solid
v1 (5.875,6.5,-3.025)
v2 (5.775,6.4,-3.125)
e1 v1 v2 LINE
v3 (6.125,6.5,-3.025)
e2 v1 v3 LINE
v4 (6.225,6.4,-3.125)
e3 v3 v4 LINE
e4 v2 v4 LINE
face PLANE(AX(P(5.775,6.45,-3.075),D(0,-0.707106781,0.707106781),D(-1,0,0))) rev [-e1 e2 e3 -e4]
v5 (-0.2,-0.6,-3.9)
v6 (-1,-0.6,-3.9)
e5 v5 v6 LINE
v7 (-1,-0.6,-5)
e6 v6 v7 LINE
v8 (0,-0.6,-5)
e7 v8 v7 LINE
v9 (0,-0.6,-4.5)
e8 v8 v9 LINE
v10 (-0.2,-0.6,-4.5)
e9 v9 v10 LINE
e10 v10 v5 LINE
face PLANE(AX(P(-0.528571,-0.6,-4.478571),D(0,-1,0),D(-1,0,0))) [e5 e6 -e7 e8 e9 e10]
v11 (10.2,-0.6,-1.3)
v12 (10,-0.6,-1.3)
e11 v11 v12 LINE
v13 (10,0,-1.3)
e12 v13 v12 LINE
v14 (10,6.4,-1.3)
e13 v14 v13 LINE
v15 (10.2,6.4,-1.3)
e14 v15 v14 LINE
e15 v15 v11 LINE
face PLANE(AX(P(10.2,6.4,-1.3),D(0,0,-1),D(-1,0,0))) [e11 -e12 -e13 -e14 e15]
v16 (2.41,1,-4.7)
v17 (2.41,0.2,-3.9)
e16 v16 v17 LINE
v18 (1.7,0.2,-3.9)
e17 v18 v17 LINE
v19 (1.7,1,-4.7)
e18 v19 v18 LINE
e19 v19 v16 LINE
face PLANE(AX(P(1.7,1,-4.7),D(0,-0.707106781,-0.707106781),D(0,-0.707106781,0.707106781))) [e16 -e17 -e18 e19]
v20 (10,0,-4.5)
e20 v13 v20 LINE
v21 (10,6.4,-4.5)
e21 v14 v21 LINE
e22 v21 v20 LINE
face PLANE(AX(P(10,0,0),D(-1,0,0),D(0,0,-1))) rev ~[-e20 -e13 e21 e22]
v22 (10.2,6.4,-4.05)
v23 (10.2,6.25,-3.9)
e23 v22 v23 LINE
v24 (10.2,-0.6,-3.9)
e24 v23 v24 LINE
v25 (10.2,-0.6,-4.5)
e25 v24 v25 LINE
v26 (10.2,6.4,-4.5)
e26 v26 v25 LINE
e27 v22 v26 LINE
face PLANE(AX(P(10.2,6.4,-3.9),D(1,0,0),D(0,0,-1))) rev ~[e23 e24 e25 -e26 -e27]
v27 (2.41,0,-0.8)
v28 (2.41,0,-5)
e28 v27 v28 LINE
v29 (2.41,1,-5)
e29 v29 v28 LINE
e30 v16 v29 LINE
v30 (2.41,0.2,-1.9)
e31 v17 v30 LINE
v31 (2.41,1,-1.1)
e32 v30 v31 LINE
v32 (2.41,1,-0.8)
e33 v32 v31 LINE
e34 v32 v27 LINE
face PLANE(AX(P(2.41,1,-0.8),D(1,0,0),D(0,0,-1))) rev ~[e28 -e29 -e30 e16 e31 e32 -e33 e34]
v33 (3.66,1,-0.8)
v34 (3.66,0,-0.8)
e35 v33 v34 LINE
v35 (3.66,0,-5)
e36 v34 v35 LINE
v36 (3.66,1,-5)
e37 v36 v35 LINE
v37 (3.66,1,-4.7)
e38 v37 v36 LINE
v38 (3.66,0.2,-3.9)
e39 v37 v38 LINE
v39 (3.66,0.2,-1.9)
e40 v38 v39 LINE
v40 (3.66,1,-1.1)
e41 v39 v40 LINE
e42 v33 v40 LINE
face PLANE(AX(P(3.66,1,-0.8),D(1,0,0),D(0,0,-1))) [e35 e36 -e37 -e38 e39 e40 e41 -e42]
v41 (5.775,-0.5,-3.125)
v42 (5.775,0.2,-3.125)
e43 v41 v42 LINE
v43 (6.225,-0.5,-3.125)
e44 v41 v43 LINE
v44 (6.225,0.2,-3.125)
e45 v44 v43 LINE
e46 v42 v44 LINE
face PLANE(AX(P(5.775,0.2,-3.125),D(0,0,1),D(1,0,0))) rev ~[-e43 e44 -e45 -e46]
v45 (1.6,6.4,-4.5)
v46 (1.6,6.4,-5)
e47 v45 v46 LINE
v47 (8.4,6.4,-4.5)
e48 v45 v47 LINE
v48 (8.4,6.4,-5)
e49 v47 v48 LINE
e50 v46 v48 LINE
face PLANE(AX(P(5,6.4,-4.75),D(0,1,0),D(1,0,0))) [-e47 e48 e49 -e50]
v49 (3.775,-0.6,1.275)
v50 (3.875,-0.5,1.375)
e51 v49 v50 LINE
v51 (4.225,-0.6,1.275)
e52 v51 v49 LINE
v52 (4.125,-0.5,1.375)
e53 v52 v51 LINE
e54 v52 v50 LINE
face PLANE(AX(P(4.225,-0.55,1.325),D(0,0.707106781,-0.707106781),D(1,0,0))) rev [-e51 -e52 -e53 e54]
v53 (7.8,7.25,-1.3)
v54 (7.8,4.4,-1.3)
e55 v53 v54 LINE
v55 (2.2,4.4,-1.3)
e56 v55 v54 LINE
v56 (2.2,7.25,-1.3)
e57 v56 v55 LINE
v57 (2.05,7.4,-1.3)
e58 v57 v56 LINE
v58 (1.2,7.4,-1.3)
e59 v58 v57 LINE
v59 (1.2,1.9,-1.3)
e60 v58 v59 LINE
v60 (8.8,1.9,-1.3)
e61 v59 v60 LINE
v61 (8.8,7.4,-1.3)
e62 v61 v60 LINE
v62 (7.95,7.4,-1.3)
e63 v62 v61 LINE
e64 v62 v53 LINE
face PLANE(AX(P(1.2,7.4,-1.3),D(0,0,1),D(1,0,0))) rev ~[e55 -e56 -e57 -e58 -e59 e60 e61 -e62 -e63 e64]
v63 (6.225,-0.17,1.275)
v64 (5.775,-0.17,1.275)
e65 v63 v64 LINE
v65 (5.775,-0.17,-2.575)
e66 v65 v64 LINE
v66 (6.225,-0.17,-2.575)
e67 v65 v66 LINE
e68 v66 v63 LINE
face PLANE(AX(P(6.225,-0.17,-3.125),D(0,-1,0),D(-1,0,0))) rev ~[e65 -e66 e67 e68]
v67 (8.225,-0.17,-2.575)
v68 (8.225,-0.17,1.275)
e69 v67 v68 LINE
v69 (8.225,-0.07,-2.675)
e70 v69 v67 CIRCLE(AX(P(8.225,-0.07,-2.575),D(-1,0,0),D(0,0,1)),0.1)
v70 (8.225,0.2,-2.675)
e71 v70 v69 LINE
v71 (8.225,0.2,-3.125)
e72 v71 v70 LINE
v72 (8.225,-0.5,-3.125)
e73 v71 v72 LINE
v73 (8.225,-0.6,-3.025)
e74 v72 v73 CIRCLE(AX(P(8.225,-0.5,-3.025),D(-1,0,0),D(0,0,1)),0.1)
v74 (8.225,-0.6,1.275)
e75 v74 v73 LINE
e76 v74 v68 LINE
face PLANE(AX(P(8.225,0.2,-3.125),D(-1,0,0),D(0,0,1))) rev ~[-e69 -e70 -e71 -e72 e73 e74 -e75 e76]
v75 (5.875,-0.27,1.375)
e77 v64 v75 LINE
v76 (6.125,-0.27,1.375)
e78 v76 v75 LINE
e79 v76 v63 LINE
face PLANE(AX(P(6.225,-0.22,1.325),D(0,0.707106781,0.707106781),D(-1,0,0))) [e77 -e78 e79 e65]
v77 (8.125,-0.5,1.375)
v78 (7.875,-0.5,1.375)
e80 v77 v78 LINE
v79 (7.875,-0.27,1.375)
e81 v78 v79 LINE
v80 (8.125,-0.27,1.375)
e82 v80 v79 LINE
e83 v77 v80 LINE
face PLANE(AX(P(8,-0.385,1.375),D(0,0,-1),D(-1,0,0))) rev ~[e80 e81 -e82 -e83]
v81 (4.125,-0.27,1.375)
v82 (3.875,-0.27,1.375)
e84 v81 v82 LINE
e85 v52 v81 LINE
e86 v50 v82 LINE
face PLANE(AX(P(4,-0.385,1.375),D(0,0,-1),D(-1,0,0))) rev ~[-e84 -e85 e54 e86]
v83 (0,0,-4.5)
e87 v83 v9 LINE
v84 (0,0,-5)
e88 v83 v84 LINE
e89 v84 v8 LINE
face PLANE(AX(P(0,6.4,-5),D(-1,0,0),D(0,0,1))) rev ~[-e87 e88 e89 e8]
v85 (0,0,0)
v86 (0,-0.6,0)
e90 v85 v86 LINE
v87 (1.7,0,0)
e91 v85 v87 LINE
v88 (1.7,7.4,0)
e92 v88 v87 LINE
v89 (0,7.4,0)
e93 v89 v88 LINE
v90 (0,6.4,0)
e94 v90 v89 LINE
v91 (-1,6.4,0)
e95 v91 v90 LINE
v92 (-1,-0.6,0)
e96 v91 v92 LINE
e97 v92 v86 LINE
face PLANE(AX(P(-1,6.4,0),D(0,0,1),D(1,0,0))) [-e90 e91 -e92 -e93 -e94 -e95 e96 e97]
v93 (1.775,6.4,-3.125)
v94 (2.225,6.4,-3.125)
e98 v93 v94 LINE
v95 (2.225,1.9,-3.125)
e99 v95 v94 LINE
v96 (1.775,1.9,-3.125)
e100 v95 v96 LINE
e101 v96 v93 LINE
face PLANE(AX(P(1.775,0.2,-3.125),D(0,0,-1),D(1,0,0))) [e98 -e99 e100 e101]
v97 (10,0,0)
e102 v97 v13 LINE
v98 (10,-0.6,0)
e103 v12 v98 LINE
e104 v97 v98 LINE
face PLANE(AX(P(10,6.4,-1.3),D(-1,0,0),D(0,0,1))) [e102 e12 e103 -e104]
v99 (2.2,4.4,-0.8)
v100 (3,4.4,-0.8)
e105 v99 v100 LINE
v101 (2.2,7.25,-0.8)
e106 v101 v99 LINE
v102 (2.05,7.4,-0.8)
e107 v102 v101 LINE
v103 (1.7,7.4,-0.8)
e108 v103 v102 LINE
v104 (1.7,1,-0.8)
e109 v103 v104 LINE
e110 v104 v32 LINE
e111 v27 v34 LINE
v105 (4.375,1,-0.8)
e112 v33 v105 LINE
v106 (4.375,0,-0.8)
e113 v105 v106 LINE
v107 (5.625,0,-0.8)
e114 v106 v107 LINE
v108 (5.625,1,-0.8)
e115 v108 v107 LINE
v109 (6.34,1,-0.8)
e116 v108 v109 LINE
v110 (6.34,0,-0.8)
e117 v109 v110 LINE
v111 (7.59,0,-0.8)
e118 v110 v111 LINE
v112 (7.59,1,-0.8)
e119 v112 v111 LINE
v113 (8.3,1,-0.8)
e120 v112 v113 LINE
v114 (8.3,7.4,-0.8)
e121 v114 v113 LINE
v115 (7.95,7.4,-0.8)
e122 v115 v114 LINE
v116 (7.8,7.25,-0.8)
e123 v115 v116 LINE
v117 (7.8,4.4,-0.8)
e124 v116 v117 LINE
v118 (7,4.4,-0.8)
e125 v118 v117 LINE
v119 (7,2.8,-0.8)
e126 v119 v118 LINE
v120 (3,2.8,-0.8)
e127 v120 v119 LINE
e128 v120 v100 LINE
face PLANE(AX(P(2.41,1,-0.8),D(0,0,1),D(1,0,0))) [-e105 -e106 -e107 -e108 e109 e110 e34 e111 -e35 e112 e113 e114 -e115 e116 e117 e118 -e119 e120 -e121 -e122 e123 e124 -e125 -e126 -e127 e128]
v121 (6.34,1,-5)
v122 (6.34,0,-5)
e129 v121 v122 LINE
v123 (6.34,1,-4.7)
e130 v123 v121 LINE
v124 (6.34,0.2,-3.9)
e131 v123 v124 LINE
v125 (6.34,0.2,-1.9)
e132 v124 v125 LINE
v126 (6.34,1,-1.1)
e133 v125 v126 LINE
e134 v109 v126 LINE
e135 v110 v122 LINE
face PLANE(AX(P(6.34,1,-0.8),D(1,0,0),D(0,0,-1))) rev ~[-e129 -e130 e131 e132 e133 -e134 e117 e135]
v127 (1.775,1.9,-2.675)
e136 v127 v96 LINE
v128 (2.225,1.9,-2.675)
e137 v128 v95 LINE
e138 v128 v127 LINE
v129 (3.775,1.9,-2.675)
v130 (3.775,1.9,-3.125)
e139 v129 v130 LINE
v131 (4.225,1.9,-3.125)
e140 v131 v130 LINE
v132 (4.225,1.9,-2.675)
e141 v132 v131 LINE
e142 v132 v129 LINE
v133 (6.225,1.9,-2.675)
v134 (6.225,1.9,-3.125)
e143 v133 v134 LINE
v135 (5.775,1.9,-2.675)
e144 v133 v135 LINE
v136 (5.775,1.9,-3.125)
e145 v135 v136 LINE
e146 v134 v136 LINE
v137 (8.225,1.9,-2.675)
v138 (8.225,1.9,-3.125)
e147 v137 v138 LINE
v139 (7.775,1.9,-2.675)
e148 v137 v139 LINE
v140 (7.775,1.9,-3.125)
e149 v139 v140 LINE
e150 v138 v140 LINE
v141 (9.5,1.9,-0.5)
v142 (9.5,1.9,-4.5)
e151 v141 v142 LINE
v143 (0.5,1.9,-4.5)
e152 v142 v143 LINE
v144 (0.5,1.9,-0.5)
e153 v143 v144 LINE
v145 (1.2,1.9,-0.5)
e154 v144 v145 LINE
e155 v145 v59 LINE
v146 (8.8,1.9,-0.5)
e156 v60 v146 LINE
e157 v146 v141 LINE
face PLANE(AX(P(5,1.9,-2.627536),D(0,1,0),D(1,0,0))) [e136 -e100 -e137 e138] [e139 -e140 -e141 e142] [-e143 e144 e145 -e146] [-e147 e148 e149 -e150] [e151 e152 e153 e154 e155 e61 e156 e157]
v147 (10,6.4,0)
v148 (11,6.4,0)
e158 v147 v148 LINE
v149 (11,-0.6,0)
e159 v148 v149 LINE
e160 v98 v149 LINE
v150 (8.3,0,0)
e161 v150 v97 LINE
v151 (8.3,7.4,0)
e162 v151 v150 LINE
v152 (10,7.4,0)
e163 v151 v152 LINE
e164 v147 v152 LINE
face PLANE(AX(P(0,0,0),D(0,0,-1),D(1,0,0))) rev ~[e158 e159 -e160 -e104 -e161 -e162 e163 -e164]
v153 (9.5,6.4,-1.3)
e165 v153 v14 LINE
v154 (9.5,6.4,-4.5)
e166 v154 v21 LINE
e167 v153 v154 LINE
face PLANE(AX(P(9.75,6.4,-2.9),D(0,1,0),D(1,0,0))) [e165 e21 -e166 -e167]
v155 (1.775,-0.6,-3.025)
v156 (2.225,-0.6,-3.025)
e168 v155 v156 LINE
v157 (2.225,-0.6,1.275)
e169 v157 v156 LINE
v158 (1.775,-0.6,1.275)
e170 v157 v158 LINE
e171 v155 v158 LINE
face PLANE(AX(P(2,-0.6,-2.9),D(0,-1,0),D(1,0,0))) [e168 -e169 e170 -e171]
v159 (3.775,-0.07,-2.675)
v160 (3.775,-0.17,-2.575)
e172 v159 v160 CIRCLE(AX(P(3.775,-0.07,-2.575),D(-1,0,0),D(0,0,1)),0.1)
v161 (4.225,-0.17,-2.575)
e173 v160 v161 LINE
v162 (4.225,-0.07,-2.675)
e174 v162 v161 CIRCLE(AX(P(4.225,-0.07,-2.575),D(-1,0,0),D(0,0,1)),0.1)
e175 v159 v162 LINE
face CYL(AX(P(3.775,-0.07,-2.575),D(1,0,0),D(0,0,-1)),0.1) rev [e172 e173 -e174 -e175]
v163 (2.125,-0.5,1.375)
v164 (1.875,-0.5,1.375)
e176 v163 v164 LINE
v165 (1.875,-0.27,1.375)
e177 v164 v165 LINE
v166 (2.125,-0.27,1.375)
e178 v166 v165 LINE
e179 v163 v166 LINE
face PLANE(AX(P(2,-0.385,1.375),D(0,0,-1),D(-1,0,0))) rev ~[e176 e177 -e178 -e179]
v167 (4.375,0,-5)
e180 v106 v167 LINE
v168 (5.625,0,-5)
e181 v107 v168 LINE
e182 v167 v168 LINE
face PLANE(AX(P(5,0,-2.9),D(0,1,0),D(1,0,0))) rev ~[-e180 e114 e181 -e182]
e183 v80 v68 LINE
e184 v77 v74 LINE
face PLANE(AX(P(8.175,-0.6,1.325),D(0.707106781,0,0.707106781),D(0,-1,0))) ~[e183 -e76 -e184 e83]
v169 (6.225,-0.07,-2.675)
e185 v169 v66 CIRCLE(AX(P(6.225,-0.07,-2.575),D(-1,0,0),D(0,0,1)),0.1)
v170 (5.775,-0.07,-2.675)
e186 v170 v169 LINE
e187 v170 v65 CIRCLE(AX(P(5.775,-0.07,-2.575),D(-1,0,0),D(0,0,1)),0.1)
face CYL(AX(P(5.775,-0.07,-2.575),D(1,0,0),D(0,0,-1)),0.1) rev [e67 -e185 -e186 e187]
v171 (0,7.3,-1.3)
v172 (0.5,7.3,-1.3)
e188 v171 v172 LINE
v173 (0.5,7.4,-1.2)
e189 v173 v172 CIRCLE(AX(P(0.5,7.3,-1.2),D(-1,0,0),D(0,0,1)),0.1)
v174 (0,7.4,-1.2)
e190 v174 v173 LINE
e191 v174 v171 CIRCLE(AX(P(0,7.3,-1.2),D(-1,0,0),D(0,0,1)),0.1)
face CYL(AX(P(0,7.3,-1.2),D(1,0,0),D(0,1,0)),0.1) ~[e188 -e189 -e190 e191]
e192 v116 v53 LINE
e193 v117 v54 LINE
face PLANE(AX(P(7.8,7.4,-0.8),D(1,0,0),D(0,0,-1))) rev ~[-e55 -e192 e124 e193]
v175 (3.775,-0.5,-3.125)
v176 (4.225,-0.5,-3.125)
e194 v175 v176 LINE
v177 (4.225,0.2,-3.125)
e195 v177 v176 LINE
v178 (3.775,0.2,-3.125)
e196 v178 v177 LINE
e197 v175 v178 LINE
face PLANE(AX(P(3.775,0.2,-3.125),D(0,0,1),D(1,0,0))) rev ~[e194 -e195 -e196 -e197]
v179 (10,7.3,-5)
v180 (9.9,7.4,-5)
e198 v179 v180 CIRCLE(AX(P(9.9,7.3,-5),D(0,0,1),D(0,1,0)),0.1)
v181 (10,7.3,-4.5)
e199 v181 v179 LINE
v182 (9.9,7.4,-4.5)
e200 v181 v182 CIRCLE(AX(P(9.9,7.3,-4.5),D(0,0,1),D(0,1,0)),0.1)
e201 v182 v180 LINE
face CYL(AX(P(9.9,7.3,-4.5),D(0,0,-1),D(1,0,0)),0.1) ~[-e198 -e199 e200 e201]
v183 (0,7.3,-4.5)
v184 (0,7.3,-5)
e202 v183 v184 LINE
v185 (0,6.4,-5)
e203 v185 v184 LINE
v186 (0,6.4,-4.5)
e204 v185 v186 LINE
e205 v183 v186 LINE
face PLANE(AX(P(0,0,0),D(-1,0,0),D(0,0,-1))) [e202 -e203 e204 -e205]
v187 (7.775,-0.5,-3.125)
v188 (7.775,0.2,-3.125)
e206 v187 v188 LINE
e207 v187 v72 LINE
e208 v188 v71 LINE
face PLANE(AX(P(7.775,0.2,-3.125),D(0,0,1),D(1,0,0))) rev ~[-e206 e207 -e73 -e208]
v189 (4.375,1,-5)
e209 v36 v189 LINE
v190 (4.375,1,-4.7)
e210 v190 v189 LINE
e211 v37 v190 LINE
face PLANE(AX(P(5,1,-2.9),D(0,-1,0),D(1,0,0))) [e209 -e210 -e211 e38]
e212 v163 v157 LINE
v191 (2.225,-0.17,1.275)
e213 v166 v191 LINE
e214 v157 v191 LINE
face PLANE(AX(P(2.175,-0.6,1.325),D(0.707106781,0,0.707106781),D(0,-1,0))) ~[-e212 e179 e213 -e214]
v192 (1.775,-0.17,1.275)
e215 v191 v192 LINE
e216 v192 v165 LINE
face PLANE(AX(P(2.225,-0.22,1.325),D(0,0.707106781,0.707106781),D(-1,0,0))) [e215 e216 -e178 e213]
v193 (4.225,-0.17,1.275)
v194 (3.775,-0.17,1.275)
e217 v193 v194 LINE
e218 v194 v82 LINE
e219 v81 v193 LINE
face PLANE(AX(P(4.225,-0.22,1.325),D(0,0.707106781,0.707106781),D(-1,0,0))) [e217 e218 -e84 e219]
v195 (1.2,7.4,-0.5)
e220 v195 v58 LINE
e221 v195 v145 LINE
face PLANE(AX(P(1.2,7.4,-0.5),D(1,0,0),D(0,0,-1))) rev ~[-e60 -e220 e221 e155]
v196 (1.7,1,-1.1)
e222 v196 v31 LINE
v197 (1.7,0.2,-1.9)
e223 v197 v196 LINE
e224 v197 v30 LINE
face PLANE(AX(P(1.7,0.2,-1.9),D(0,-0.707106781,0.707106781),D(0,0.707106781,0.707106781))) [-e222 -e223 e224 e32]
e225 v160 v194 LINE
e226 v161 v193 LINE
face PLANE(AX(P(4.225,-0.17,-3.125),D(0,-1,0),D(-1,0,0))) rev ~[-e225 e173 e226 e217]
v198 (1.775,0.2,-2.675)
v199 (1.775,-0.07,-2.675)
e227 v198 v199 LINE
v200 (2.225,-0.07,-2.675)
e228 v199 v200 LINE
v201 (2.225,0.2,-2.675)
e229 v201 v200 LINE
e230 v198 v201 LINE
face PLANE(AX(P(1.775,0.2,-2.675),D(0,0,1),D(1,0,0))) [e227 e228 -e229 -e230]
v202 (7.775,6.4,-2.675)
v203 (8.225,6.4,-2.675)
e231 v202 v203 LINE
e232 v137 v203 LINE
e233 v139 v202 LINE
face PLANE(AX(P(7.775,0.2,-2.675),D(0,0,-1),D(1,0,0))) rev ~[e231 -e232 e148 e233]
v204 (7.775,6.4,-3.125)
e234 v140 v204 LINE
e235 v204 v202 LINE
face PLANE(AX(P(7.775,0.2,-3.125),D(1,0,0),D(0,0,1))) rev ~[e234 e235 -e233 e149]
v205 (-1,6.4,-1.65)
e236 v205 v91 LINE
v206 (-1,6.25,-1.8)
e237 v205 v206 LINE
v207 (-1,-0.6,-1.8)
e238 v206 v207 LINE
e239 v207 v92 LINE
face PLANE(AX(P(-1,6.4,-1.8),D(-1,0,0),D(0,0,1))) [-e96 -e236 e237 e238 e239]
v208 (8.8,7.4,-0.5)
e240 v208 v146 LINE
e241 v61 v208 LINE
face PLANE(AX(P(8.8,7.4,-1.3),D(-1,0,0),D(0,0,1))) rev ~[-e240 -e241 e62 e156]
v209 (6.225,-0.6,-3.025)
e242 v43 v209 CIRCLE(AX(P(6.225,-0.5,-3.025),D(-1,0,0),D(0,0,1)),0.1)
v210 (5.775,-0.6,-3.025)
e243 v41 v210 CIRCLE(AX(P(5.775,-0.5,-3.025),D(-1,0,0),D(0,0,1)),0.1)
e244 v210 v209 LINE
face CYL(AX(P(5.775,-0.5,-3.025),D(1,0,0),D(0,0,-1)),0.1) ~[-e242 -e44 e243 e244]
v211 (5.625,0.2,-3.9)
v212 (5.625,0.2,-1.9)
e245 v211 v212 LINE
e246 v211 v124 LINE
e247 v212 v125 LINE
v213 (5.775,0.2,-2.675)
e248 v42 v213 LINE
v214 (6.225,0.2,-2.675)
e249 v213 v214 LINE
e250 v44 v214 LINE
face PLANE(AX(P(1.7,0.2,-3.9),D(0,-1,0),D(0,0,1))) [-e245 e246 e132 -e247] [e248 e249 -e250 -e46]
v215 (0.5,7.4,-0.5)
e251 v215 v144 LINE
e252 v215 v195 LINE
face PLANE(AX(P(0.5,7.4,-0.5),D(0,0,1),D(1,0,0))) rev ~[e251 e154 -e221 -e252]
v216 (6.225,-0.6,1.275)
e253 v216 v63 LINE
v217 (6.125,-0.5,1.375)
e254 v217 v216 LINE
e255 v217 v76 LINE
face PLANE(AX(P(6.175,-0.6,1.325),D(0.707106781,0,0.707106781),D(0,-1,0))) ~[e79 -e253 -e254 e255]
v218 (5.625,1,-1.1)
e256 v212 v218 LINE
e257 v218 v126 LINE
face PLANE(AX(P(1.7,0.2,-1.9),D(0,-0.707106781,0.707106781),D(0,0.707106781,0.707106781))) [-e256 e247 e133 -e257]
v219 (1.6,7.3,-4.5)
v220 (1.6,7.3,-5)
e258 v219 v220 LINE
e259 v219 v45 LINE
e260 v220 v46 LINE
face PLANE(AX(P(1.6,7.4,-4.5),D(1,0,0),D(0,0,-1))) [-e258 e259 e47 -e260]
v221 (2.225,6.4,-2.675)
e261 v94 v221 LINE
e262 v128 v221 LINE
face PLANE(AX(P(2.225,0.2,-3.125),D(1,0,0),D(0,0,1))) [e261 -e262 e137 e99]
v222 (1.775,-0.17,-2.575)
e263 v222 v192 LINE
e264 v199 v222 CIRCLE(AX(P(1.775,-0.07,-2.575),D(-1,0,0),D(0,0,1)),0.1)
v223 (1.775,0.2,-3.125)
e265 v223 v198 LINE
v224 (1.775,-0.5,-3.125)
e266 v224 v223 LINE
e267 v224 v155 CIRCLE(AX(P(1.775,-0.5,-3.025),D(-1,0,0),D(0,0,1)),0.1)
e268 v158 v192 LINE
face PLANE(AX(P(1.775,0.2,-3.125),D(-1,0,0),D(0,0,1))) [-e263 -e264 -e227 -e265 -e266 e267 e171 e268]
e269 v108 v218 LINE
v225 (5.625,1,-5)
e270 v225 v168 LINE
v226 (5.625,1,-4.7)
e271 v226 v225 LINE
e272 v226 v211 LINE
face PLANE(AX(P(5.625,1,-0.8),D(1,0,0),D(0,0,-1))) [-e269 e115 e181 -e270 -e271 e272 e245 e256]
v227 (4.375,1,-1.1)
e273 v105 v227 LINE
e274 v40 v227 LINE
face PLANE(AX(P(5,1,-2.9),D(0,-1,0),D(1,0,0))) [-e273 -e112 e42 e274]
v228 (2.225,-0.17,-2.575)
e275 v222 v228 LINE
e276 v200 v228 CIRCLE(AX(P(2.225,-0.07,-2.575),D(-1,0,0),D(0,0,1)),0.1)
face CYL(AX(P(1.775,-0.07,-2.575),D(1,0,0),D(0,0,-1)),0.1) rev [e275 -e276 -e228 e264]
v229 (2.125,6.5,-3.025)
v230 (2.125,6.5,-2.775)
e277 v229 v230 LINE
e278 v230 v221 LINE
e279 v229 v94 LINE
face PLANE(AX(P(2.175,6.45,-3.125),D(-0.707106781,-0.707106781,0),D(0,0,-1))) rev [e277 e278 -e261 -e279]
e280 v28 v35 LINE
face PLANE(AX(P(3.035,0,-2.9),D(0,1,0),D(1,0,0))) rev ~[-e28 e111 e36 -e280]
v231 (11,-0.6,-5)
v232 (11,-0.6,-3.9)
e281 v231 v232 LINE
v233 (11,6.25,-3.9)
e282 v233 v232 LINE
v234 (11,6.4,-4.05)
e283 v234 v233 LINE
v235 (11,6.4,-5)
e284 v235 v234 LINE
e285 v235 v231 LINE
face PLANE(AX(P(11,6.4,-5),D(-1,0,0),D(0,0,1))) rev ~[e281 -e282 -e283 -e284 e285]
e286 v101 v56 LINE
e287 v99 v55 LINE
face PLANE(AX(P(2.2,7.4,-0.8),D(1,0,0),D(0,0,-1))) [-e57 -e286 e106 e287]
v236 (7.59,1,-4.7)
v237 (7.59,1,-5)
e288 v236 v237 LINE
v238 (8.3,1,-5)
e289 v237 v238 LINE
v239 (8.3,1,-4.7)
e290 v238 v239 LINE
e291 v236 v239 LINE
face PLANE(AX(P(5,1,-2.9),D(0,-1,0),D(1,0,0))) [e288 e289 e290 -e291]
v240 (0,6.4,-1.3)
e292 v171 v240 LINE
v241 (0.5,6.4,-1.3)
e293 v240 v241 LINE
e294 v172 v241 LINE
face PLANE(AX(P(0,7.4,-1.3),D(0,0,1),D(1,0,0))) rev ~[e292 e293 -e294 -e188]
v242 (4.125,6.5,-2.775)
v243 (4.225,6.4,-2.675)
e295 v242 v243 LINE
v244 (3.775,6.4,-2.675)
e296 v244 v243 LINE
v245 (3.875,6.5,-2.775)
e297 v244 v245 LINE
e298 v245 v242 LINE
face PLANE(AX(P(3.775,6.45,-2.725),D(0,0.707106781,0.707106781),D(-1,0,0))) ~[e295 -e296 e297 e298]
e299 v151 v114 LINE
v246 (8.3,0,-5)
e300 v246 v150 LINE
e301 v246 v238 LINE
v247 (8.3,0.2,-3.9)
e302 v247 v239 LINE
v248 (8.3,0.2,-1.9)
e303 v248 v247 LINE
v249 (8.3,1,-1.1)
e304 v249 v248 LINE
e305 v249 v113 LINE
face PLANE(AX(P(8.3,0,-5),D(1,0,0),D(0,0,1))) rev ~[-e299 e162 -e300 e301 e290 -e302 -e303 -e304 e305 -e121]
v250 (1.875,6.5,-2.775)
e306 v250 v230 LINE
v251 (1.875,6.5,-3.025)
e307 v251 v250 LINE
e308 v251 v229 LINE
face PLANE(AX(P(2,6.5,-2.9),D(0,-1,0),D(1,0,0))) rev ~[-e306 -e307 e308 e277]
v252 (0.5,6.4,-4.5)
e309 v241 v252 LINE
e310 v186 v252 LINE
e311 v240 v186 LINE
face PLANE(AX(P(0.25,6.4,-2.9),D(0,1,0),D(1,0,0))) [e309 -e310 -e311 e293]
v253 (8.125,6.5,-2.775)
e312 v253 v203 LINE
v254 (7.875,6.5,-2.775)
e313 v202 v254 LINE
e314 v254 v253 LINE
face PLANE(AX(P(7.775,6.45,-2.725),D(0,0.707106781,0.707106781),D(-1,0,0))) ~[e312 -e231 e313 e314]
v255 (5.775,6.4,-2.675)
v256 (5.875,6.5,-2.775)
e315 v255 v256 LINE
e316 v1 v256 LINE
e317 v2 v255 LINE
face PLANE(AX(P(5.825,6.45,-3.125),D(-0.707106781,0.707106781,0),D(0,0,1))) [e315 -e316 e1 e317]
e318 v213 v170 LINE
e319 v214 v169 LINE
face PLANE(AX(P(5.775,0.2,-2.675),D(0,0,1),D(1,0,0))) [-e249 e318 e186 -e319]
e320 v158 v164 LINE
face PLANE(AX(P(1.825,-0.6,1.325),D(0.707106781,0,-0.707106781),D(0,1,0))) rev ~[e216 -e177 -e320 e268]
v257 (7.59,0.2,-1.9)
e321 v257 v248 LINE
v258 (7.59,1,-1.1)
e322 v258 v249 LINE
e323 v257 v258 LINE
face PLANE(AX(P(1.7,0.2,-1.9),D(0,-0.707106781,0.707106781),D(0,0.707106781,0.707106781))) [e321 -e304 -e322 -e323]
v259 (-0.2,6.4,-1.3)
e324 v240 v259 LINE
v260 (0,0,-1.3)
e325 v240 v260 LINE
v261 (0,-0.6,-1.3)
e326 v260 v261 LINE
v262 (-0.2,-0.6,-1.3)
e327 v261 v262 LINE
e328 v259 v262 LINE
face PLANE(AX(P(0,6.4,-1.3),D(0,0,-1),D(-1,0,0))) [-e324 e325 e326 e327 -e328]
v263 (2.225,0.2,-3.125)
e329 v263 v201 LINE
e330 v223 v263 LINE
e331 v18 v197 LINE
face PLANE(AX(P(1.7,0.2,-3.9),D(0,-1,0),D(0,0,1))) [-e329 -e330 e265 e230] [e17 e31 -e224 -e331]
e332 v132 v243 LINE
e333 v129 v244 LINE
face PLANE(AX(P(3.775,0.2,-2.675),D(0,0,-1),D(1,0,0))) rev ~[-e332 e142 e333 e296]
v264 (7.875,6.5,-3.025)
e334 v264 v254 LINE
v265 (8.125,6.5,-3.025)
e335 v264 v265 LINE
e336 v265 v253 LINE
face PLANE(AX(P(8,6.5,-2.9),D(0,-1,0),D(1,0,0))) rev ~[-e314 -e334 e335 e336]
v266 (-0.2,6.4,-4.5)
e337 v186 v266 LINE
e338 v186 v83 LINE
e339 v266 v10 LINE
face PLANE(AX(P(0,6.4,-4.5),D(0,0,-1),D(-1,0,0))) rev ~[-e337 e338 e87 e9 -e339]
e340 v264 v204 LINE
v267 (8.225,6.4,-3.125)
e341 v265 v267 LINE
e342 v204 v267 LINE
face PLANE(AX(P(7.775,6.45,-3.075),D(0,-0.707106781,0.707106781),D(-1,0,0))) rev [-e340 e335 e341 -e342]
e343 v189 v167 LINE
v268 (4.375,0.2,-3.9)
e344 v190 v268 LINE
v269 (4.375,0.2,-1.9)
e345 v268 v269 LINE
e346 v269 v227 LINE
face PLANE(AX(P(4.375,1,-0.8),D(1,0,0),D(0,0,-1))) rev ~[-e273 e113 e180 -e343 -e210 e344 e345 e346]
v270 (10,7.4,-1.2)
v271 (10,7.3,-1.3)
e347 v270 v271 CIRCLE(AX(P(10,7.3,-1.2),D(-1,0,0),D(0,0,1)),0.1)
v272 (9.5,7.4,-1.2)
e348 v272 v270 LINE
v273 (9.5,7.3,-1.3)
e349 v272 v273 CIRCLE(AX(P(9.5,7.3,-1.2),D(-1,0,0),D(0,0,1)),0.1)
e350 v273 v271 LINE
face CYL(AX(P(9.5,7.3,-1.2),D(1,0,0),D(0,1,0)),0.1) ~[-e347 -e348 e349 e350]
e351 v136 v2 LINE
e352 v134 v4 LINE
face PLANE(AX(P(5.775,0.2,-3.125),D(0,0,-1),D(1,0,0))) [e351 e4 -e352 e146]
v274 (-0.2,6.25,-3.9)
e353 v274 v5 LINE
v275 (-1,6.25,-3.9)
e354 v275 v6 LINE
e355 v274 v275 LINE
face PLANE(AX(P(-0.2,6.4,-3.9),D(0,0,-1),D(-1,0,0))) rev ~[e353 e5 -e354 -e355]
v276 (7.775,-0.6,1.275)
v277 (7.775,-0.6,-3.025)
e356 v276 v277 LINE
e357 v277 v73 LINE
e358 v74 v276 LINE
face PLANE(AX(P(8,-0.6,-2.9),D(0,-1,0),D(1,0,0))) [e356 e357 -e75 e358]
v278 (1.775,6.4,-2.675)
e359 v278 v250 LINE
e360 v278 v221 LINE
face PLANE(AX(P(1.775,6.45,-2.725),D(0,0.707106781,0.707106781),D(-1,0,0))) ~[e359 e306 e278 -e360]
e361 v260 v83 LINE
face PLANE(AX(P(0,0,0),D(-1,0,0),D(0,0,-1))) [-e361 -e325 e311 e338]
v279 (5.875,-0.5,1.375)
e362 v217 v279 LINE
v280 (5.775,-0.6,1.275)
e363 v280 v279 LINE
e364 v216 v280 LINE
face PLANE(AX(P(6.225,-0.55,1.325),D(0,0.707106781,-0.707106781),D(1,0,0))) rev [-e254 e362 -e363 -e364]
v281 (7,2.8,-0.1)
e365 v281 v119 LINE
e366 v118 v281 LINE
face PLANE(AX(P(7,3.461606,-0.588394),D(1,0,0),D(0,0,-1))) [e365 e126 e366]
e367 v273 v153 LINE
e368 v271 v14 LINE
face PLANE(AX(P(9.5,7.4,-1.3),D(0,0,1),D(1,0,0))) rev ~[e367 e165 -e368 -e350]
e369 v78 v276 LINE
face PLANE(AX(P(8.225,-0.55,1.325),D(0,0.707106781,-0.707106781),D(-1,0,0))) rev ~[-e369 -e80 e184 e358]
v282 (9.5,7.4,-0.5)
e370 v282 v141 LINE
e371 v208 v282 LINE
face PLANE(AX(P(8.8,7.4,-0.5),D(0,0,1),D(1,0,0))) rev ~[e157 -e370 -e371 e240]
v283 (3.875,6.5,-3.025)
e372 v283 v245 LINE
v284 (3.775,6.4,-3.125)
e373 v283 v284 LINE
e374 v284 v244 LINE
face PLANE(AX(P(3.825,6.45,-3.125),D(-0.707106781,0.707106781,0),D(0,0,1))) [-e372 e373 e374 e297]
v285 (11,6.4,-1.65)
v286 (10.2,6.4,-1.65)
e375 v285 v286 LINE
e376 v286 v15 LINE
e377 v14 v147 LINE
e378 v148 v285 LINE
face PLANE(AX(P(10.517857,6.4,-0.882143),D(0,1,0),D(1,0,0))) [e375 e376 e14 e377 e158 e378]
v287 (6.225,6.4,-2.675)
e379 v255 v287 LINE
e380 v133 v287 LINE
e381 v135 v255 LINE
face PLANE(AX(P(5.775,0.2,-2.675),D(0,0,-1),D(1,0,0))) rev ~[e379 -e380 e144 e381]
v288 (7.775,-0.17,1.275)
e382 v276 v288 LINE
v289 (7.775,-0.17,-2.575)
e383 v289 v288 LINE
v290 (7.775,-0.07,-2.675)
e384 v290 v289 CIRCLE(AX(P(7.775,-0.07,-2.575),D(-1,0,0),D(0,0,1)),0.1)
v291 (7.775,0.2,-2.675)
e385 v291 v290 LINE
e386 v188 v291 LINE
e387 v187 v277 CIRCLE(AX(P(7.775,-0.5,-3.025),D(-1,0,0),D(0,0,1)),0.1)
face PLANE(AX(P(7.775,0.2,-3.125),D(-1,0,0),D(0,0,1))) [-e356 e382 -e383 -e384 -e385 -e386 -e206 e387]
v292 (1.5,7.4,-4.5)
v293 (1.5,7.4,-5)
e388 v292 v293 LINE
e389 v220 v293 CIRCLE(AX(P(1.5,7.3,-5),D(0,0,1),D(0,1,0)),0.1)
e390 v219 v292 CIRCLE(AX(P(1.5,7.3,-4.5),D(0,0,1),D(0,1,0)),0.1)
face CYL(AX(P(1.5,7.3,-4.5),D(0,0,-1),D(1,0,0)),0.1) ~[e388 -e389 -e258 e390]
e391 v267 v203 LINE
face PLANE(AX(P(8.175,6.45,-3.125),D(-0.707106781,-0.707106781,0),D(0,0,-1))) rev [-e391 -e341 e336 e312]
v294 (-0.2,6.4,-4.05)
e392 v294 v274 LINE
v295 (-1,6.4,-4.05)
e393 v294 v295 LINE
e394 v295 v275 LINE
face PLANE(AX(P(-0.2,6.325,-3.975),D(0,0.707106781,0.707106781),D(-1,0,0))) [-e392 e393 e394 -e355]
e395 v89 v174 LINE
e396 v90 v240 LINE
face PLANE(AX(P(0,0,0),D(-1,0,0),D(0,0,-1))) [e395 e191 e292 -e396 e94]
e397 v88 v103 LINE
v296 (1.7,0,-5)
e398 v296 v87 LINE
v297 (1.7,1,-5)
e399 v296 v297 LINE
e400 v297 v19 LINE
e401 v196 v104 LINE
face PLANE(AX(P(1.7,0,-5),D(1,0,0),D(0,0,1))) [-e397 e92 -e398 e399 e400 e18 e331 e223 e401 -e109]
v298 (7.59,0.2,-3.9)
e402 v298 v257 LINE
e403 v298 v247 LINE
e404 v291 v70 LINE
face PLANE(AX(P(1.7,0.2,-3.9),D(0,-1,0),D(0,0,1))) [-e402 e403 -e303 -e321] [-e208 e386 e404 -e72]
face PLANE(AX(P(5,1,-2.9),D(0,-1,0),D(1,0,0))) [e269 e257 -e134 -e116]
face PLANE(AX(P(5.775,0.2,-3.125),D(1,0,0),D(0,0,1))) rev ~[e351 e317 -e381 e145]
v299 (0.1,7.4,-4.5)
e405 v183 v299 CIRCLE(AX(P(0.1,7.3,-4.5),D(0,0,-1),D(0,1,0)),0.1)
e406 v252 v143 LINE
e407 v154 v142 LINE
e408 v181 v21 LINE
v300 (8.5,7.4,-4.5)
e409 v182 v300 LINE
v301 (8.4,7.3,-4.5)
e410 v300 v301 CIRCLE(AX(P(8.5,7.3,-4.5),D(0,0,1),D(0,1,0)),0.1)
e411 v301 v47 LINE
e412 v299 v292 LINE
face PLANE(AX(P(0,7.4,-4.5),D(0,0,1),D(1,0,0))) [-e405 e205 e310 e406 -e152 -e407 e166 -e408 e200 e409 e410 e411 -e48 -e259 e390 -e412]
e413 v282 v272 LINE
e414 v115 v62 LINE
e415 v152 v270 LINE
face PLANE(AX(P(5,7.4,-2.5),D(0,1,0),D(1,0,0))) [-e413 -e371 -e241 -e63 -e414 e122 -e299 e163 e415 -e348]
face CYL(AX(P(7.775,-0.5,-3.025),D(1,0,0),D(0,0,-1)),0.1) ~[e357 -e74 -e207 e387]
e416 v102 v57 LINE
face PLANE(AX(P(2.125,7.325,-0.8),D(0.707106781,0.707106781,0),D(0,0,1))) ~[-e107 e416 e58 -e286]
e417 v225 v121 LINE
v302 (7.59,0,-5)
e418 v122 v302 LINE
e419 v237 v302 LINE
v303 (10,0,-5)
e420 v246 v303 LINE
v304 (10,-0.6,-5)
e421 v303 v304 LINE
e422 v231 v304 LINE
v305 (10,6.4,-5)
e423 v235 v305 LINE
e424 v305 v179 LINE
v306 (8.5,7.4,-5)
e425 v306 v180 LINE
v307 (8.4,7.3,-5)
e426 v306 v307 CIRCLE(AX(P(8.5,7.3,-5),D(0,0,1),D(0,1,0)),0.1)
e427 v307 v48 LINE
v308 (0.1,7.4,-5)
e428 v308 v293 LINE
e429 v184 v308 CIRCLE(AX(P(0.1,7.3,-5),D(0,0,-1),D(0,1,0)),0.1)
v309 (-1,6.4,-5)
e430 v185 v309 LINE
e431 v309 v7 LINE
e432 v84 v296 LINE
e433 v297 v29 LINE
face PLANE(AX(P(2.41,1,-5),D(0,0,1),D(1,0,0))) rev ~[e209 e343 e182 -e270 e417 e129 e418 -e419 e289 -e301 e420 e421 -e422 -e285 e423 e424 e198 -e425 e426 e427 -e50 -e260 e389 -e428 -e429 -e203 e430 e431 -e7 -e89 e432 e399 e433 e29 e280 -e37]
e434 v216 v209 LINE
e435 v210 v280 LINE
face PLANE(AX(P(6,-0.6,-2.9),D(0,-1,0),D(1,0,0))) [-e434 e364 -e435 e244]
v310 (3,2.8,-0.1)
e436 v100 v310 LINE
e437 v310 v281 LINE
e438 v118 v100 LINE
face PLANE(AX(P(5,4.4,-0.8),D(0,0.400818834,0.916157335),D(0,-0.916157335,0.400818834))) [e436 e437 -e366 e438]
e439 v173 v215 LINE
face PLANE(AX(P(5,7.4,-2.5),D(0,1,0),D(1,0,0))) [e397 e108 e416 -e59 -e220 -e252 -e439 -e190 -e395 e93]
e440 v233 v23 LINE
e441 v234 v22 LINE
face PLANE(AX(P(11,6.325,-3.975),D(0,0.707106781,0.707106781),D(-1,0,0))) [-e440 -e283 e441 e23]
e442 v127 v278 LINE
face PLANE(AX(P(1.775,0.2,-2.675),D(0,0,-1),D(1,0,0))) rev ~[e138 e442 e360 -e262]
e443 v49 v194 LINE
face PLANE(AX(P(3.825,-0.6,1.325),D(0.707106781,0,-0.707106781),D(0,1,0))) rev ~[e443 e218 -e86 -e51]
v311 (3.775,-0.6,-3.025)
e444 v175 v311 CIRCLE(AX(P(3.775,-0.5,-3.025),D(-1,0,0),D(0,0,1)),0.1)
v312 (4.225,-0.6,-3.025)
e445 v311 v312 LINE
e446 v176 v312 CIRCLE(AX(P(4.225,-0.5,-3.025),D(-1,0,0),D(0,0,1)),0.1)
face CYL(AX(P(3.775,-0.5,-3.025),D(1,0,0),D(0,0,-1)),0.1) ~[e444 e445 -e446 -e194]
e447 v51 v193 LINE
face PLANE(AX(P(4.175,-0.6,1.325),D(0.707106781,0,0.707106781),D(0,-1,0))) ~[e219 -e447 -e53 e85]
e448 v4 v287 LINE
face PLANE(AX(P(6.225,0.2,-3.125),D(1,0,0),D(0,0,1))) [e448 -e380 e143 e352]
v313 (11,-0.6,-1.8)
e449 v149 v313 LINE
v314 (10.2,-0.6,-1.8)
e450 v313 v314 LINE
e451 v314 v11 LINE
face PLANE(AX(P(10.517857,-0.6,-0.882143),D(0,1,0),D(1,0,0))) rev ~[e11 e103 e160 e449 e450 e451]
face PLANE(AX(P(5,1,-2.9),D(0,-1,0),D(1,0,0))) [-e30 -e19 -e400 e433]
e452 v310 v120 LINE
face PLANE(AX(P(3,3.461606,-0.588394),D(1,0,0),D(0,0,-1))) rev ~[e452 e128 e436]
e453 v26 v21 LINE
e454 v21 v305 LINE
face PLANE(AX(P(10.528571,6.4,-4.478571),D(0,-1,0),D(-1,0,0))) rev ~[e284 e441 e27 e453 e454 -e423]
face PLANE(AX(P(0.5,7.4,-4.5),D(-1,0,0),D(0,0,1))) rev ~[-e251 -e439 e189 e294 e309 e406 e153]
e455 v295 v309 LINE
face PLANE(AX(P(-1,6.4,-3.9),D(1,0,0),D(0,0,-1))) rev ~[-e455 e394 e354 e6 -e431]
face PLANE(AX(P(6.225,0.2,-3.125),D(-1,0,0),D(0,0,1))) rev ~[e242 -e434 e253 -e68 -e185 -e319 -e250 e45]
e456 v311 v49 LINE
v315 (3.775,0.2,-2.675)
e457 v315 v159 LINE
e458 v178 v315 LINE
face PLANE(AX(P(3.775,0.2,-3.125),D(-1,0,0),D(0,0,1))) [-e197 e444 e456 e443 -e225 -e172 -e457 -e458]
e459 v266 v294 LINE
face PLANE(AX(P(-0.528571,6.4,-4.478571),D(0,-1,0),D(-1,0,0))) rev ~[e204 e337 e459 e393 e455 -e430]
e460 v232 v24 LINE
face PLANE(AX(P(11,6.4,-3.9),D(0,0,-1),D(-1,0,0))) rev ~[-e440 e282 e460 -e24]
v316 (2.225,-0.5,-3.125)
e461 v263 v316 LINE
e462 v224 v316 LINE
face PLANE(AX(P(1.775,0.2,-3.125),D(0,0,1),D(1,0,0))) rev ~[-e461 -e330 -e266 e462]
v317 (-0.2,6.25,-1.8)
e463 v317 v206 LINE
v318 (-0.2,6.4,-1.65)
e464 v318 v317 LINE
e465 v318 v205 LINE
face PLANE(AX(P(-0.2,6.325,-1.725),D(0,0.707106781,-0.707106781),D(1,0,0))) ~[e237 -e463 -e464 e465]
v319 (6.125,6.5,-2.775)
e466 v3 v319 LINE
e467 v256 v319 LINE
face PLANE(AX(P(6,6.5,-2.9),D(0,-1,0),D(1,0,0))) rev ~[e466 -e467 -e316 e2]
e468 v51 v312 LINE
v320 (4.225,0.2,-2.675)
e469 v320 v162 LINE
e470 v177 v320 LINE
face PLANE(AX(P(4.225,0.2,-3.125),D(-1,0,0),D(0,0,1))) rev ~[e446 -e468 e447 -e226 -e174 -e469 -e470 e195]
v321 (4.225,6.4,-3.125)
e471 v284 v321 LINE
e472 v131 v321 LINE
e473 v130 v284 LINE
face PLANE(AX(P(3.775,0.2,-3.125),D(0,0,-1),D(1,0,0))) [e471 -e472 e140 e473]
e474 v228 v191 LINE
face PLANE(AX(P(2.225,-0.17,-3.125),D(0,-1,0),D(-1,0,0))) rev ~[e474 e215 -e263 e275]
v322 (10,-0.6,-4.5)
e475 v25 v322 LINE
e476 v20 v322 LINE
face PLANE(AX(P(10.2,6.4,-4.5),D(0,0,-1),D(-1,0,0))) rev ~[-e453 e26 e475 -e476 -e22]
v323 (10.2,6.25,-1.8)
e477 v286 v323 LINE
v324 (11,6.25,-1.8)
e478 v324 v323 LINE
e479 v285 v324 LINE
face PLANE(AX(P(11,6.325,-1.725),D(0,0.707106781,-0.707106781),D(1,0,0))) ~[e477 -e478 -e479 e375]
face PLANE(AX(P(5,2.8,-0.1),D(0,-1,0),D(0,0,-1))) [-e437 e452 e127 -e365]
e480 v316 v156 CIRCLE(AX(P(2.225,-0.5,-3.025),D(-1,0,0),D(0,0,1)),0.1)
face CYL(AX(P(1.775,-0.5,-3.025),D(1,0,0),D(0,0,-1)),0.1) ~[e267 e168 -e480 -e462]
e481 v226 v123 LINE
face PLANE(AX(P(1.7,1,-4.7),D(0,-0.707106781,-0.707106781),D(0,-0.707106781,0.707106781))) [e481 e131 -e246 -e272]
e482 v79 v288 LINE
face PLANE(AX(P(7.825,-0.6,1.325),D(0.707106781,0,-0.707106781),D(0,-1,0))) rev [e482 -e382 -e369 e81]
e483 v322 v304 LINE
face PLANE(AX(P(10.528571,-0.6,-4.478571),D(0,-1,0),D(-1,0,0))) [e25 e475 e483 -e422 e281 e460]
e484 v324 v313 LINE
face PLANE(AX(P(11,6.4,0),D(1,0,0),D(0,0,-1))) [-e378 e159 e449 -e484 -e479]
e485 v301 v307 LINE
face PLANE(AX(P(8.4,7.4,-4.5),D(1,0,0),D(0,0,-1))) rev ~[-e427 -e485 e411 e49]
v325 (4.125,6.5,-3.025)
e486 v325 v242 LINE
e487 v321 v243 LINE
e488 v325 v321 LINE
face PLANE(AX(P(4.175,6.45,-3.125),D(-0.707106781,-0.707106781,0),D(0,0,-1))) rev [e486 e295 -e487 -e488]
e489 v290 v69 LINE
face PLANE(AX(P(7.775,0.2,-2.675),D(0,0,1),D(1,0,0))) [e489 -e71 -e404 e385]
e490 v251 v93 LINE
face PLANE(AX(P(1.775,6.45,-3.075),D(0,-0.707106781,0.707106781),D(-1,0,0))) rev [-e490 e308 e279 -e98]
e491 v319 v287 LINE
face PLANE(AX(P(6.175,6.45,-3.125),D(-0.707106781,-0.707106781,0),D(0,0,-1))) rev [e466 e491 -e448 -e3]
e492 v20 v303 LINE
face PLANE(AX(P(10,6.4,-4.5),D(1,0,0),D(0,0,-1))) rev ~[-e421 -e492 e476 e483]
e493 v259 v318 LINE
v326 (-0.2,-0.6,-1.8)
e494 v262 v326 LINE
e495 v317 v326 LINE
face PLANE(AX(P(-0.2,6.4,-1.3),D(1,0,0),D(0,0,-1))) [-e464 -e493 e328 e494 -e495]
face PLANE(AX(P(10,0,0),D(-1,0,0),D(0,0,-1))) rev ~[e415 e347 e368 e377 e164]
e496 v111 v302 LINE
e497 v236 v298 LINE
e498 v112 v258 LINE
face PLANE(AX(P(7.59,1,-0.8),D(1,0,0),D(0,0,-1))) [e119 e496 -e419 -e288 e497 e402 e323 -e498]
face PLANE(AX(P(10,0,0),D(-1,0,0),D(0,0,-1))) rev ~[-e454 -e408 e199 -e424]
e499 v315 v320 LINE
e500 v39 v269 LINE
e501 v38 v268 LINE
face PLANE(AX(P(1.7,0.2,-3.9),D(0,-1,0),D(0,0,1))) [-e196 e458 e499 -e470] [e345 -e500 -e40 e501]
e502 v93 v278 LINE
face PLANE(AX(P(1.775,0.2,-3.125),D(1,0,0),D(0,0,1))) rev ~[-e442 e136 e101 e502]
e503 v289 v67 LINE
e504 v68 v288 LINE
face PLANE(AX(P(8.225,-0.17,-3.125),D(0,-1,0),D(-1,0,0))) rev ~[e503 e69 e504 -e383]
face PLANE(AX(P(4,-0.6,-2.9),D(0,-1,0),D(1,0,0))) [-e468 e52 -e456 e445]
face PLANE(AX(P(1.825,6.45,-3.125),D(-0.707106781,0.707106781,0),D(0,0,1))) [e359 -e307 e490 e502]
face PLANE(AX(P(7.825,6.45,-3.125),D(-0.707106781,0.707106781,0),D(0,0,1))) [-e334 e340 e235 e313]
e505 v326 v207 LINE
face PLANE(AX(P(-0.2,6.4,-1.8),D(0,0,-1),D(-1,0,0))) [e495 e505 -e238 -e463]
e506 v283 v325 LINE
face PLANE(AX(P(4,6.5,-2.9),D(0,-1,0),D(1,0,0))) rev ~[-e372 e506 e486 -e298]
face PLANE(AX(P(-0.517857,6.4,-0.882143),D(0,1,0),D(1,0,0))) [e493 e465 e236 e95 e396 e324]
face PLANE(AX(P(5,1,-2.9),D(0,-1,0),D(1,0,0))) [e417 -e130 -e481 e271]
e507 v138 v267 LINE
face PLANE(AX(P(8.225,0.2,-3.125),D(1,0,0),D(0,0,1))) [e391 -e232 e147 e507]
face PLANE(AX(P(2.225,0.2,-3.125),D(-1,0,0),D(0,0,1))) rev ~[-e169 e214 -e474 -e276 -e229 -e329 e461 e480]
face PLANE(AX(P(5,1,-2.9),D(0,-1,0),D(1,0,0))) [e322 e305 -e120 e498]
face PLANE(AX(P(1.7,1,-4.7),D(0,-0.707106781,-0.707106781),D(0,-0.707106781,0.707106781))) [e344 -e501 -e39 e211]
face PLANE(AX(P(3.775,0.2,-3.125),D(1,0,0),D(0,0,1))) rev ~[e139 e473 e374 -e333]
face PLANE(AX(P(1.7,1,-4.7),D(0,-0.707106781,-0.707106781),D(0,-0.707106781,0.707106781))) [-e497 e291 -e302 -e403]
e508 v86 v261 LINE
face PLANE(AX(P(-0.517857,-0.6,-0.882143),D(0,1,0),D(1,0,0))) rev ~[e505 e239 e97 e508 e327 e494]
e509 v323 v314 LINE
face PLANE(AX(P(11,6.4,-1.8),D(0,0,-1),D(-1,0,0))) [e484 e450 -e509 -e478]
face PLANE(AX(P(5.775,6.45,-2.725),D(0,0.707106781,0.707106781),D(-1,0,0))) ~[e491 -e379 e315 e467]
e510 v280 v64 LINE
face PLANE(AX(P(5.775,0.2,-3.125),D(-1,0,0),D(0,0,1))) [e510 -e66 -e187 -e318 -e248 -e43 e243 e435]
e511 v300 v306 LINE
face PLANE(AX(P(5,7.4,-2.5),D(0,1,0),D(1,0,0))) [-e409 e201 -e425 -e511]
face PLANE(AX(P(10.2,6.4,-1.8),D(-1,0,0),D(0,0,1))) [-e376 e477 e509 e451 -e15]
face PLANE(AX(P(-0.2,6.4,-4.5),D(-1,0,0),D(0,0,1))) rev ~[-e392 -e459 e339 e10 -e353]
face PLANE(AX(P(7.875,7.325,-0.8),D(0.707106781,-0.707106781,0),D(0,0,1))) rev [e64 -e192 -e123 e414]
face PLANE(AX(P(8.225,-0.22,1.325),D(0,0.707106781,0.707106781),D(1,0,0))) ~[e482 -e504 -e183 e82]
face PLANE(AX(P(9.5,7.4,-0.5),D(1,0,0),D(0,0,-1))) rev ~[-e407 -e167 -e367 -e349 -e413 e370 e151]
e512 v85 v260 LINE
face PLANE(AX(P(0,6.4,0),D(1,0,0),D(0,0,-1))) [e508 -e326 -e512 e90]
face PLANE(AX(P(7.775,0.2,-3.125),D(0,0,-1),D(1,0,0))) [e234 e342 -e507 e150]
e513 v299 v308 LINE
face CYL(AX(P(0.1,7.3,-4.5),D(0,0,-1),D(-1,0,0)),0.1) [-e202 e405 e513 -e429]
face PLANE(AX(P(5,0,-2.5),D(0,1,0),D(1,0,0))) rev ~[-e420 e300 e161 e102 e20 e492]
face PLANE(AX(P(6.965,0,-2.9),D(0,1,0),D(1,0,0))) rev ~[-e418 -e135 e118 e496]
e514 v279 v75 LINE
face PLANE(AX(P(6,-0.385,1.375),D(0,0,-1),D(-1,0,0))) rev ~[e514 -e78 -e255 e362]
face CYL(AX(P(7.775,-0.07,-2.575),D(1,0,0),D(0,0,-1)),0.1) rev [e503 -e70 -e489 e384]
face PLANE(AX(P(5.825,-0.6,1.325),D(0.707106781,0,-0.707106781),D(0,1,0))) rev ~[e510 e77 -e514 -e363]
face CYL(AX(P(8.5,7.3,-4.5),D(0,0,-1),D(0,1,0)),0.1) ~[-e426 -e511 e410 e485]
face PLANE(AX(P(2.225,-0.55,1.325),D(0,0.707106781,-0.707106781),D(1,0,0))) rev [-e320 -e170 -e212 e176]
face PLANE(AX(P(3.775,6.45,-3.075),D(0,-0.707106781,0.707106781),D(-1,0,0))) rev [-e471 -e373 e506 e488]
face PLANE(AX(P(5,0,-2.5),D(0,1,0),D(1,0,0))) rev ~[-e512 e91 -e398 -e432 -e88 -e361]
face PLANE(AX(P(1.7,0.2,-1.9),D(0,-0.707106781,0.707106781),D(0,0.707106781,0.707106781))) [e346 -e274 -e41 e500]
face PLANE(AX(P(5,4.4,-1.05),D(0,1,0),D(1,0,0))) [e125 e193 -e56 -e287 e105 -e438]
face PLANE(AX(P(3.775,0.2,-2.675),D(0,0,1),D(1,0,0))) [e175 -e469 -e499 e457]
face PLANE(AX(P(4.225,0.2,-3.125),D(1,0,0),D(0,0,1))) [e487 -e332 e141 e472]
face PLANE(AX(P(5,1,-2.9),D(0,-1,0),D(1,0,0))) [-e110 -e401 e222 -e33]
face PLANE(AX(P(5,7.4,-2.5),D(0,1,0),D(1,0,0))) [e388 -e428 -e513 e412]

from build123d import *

# Parameters (mm, degrees)
ESQUISSE1_W             = 10
ESQUISSE1_H             = 5
BOSS_EXTRU_1_DEPTH      = 7.4
ESQUISSE2_W             = 6.6
ESQUISSE2_H             = 0.8
ENL_V_MAT_EXTRU_1_DEPTH = 8
ENL_V_MAT_EXTRU_2_DEPTH = 5.5
ESQUISSE5_W             = 6.8
ESQUISSE5_H             = 0.5
ESQUISSE5_W_2           = 0.5
ESQUISSE5_H_2           = 3.2
ENL_V_MAT_EXTRU_3_DEPTH = 1
ESQUISSE6_W             = 5.6
ESQUISSE6_H             = 0.5
ENL_V_MAT_EXTRU_4_DEPTH = 3
ESQUISSE8_W             = 6.6
ESQUISSE8_H             = 4.2
ENL_V_MAT_EXTRU_6_DEPTH = 1
BOSS_EXTRU_2_DEPTH      = 6.8
BOSS_EXTRU_3_DEPTH      = 2
BOSS_EXTRU_3_DEPTH_BACK = 2
ESQUISSE17_W            = 1.25
ESQUISSE17_H            = 4.2
BOSS_EXTRU_8_DEPTH      = 1
CHANFREIN1_SIZE         = 0.15
ESQUISSE13_W            = 0.45
ESQUISSE13_H            = 0.45
BOSS_EXTRU_5_DEPTH      = 0.8
BOSS_EXTRU_5_DEPTH_BACK = 6.3
CONG_2_R                = 0.1
ESQUISSE14_W            = 0.45
ESQUISSE14_H            = 0.43
BOSS_EXTRU_6_DEPTH      = 4.5
CHANFREIN2_SIZE         = 0.1
BOSS_EXTRU_7_DEPTH      = 7
CHANFREIN4_SIZE         = 0.15
CONG_3_R                = 0.1


with BuildPart() as part:
    # Esquisse1 → Boss.-Extru.1 (new body)
    with BuildSketch(Plane(origin=(0, 0, 0), x_dir=(1, 0, 0), z_dir=(0, 1, 0))):
        with Locations((5, 2.5)):
            Rectangle(ESQUISSE1_W, ESQUISSE1_H)
    extrude(amount=BOSS_EXTRU_1_DEPTH)

    # Esquisse2 → Enlèv. mat.-Extru.1 (cut)
    with BuildSketch(Plane(origin=(0, 7.4, 0), x_dir=(1, 0, 0), z_dir=(0, 1, 0))):
        with Locations((5, 0.4)):
            Rectangle(ESQUISSE2_W, ESQUISSE2_H)
    extrude(amount=-ENL_V_MAT_EXTRU_1_DEPTH, mode=Mode.SUBTRACT)

    # Esquisse4 → Enlèv. mat.-Extru.2 (cut)
    with BuildSketch(Plane(origin=(0, 7.4, 0), x_dir=(1, 0, 0), z_dir=(0, 1, 0))):
        Polygon((0.5, 0.5), (1.2, 0.5), (1.2, 1.3), (8.8, 1.3), (8.8, 0.5), (9.5, 0.5), (9.5, 4.5), (0.5, 4.5), align=None)
    extrude(amount=-ENL_V_MAT_EXTRU_2_DEPTH, mode=Mode.SUBTRACT)

    # Esquisse5 → Enlèv. mat.-Extru.3 (cut)
    with BuildSketch(Plane(origin=(0, 7.4, 0), x_dir=(1, 0, 0), z_dir=(0, 1, 0))):
        with Locations((5, 4.75)):
            Rectangle(ESQUISSE5_W, ESQUISSE5_H)
        with Locations((0.25, 2.9)):
            Rectangle(ESQUISSE5_W_2, ESQUISSE5_H_2)
        with Locations((9.75, 2.9)):
            Rectangle(ESQUISSE5_W_2, ESQUISSE5_H_2)
    extrude(amount=-ENL_V_MAT_EXTRU_3_DEPTH, mode=Mode.SUBTRACT)

    # Esquisse6 → Enlèv. mat.-Extru.4 (cut)
    with BuildSketch(Plane(origin=(0, 7.4, 0), x_dir=(1, 0, 0), z_dir=(0, 1, 0))):
        with Locations((5, 1.05)):
            Rectangle(ESQUISSE6_W, ESQUISSE6_H)
    extrude(amount=-ENL_V_MAT_EXTRU_4_DEPTH, mode=Mode.SUBTRACT)

    # Esquisse8 → Enlèv. mat.-Extru.6 (cut)
    with BuildSketch(Plane.XZ):
        with Locations((5, -2.9)):
            Rectangle(ESQUISSE8_W, ESQUISSE8_H)
    extrude(amount=-ENL_V_MAT_EXTRU_6_DEPTH, mode=Mode.SUBTRACT)

    # Esquisse9 → Boss.-Extru.2 (add)
    with BuildSketch(Plane(origin=(1.7, 0, 0), x_dir=(0, 0, -1), z_dir=(1, 0, 0))):
        Polygon((4.7, 1), (3.9, 0.2), (1.9, 0.2), (1.1, 1), align=None)
    extrude(amount=BOSS_EXTRU_2_DEPTH)

    # Esquisse11 → Boss.-Extru.3 (add, two sides)
    with BuildSketch(Plane(origin=(5, 0, 0), x_dir=(0, 0, -1), z_dir=(1, 0, 0))) as boss_extru_3_sk:
        Polygon((0.8, 4.4), (0.1, 2.8), (0.8, 2.8), align=None)
    extrude(amount=BOSS_EXTRU_3_DEPTH)
    extrude(boss_extru_3_sk.sketch, amount=-BOSS_EXTRU_3_DEPTH_BACK)

    # Esquisse17 → Boss.-Extru.8 (add)
    with BuildSketch(Plane(origin=(0, 1, 0), x_dir=(1, 0, 0), z_dir=(0, 1, 0))):
        with Locations((3.035, 2.9)):
            Rectangle(ESQUISSE17_W, ESQUISSE17_H)
        with Locations((5, 2.9)):
            Rectangle(ESQUISSE17_W, ESQUISSE17_H)
        with Locations((6.965, 2.9)):
            Rectangle(ESQUISSE17_W, ESQUISSE17_H)
    extrude(amount=-BOSS_EXTRU_8_DEPTH)

    # Chanfrein1
    chanfrein1_edges = [part.edges().sort_by_distance(p)[0] for p in [
        (2.2, 7.4, -1.05),
        (7.8, 7.4, -1.05),
    ]]
    chamfer(chanfrein1_edges, length=CHANFREIN1_SIZE)

    # Esquisse13 → Boss.-Extru.5 (add, two sides)
    with BuildSketch(Plane.XZ.offset(-0.2)) as boss_extru_5_sk:
        with Locations((8, -2.9)):
            Rectangle(ESQUISSE13_W, ESQUISSE13_H)
        with Locations((4, -2.9)):
            Rectangle(ESQUISSE13_W, ESQUISSE13_H)
        with Locations((2, -2.9)):
            Rectangle(ESQUISSE13_W, ESQUISSE13_H)
        with Locations((6, -2.9)):
            Rectangle(ESQUISSE13_W, ESQUISSE13_H)
    extrude(amount=BOSS_EXTRU_5_DEPTH)
    extrude(boss_extru_5_sk.sketch, amount=-BOSS_EXTRU_5_DEPTH_BACK)

    # Congé2
    cong_2_edges = [part.edges().sort_by_distance(p)[0] for p in [
        (0.25, 7.4, -1.3),
        (0, 7.4, -4.75),
        (1.6, 7.4, -4.75),
        (8.4, 7.4, -4.75),
        (10, 7.4, -4.75),
        (9.75, 7.4, -1.3),
    ]]
    fillet(cong_2_edges, radius=CONG_2_R)

    # Esquisse14 → Boss.-Extru.6 (add)
    with BuildSketch(Plane(origin=(0, 0, -3.125), x_dir=(-1, 0, 0), z_dir=(0, 0, -1))):
        with Locations((-8, -0.385)):
            Rectangle(ESQUISSE14_W, ESQUISSE14_H)
        with Locations((-6, -0.385)):
            Rectangle(ESQUISSE14_W, ESQUISSE14_H)
        with Locations((-4, -0.385)):
            Rectangle(ESQUISSE14_W, ESQUISSE14_H)
        with Locations((-2, -0.385)):
            Rectangle(ESQUISSE14_W, ESQUISSE14_H)
    extrude(amount=-BOSS_EXTRU_6_DEPTH)

    # Chanfrein2
    chanfrein2_edges = [part.edges().sort_by_distance(p)[0] for p in [
        (4.225, 6.5, -2.9),
        (4, 6.5, -3.125),
        (3.775, 6.5, -2.9),
        (4, 6.5, -2.675),
        (2.225, 6.5, -2.9),
        (2, 6.5, -3.125),
        (1.775, 6.5, -2.9),
        (2, 6.5, -2.675),
        (8, 6.5, -3.125),
        (7.775, 6.5, -2.9),
        (8, 6.5, -2.675),
        (8.225, 6.5, -2.9),
        (6, 6.5, -3.125),
        (5.775, 6.5, -2.9),
        (6, 6.5, -2.675),
        (6.225, 6.5, -2.9),
        (8.225, -0.385, 1.375),
        (8, -0.17, 1.375),
        (7.775, -0.385, 1.375),
        (8, -0.6, 1.375),
        (6.225, -0.385, 1.375),
        (6, -0.17, 1.375),
        (5.775, -0.385, 1.375),
        (6, -0.6, 1.375),
        (4.225, -0.385, 1.375),
        (4, -0.17, 1.375),
        (3.775, -0.385, 1.375),
        (4, -0.6, 1.375),
        (2.225, -0.385, 1.375),
        (2, -0.17, 1.375),
        (1.775, -0.385, 1.375),
        (2, -0.6, 1.375),
    ]]
    chamfer(chanfrein2_edges, length=CHANFREIN2_SIZE)

    # Esquisse16 → Boss.-Extru.7 (add)
    with BuildSketch(Plane(origin=(0, 6.4, 0), x_dir=(1, 0, 0), z_dir=(0, 1, 0))):
        Polygon((0, 1.3), (-0.2, 1.3), (-0.2, 1.8), (-1, 1.8), (-1, 1.3), (-1, 0), (0, 0), align=None)
        Polygon((-0.2, 4.5), (-0.2, 3.9), (-1, 3.9), (-1, 5), (-0.2, 5), (0, 5), (0, 4.5), align=None)
        Polygon((11, 3.9), (10.2, 3.9), (10.2, 4.5), (10, 4.5), (10, 5), (10.2, 5), (11, 5), align=None)
        Polygon((11, 1.3), (11, 1.8), (10.2, 1.8), (10.2, 1.3), (10, 1.3), (10, 0), (11, 0), align=None)
    extrude(amount=-BOSS_EXTRU_7_DEPTH)

    # Chanfrein4
    chanfrein4_edges = [part.edges().sort_by_distance(p)[0] for p in [
        (-0.6, 6.4, -1.8),
        (-0.6, 6.4, -3.9),
        (10.6, 6.4, -3.9),
        (10.6, 6.4, -1.8),
    ]]
    chamfer(chanfrein4_edges, length=CHANFREIN4_SIZE)

    # Congé3
    cong_3_edges = [part.edges().sort_by_distance(p)[0] for p in [
        (4, -0.6, -3.125),
        (2, -0.6, -3.125),
        (8, -0.6, -3.125),
        (6, -0.6, -3.125),
        (8, -0.17, -2.675),
        (6, -0.17, -2.675),
        (4, -0.17, -2.675),
        (2, -0.17, -2.675),
    ]]
    fillet(cong_3_edges, radius=CONG_3_R)


solid = part.part
